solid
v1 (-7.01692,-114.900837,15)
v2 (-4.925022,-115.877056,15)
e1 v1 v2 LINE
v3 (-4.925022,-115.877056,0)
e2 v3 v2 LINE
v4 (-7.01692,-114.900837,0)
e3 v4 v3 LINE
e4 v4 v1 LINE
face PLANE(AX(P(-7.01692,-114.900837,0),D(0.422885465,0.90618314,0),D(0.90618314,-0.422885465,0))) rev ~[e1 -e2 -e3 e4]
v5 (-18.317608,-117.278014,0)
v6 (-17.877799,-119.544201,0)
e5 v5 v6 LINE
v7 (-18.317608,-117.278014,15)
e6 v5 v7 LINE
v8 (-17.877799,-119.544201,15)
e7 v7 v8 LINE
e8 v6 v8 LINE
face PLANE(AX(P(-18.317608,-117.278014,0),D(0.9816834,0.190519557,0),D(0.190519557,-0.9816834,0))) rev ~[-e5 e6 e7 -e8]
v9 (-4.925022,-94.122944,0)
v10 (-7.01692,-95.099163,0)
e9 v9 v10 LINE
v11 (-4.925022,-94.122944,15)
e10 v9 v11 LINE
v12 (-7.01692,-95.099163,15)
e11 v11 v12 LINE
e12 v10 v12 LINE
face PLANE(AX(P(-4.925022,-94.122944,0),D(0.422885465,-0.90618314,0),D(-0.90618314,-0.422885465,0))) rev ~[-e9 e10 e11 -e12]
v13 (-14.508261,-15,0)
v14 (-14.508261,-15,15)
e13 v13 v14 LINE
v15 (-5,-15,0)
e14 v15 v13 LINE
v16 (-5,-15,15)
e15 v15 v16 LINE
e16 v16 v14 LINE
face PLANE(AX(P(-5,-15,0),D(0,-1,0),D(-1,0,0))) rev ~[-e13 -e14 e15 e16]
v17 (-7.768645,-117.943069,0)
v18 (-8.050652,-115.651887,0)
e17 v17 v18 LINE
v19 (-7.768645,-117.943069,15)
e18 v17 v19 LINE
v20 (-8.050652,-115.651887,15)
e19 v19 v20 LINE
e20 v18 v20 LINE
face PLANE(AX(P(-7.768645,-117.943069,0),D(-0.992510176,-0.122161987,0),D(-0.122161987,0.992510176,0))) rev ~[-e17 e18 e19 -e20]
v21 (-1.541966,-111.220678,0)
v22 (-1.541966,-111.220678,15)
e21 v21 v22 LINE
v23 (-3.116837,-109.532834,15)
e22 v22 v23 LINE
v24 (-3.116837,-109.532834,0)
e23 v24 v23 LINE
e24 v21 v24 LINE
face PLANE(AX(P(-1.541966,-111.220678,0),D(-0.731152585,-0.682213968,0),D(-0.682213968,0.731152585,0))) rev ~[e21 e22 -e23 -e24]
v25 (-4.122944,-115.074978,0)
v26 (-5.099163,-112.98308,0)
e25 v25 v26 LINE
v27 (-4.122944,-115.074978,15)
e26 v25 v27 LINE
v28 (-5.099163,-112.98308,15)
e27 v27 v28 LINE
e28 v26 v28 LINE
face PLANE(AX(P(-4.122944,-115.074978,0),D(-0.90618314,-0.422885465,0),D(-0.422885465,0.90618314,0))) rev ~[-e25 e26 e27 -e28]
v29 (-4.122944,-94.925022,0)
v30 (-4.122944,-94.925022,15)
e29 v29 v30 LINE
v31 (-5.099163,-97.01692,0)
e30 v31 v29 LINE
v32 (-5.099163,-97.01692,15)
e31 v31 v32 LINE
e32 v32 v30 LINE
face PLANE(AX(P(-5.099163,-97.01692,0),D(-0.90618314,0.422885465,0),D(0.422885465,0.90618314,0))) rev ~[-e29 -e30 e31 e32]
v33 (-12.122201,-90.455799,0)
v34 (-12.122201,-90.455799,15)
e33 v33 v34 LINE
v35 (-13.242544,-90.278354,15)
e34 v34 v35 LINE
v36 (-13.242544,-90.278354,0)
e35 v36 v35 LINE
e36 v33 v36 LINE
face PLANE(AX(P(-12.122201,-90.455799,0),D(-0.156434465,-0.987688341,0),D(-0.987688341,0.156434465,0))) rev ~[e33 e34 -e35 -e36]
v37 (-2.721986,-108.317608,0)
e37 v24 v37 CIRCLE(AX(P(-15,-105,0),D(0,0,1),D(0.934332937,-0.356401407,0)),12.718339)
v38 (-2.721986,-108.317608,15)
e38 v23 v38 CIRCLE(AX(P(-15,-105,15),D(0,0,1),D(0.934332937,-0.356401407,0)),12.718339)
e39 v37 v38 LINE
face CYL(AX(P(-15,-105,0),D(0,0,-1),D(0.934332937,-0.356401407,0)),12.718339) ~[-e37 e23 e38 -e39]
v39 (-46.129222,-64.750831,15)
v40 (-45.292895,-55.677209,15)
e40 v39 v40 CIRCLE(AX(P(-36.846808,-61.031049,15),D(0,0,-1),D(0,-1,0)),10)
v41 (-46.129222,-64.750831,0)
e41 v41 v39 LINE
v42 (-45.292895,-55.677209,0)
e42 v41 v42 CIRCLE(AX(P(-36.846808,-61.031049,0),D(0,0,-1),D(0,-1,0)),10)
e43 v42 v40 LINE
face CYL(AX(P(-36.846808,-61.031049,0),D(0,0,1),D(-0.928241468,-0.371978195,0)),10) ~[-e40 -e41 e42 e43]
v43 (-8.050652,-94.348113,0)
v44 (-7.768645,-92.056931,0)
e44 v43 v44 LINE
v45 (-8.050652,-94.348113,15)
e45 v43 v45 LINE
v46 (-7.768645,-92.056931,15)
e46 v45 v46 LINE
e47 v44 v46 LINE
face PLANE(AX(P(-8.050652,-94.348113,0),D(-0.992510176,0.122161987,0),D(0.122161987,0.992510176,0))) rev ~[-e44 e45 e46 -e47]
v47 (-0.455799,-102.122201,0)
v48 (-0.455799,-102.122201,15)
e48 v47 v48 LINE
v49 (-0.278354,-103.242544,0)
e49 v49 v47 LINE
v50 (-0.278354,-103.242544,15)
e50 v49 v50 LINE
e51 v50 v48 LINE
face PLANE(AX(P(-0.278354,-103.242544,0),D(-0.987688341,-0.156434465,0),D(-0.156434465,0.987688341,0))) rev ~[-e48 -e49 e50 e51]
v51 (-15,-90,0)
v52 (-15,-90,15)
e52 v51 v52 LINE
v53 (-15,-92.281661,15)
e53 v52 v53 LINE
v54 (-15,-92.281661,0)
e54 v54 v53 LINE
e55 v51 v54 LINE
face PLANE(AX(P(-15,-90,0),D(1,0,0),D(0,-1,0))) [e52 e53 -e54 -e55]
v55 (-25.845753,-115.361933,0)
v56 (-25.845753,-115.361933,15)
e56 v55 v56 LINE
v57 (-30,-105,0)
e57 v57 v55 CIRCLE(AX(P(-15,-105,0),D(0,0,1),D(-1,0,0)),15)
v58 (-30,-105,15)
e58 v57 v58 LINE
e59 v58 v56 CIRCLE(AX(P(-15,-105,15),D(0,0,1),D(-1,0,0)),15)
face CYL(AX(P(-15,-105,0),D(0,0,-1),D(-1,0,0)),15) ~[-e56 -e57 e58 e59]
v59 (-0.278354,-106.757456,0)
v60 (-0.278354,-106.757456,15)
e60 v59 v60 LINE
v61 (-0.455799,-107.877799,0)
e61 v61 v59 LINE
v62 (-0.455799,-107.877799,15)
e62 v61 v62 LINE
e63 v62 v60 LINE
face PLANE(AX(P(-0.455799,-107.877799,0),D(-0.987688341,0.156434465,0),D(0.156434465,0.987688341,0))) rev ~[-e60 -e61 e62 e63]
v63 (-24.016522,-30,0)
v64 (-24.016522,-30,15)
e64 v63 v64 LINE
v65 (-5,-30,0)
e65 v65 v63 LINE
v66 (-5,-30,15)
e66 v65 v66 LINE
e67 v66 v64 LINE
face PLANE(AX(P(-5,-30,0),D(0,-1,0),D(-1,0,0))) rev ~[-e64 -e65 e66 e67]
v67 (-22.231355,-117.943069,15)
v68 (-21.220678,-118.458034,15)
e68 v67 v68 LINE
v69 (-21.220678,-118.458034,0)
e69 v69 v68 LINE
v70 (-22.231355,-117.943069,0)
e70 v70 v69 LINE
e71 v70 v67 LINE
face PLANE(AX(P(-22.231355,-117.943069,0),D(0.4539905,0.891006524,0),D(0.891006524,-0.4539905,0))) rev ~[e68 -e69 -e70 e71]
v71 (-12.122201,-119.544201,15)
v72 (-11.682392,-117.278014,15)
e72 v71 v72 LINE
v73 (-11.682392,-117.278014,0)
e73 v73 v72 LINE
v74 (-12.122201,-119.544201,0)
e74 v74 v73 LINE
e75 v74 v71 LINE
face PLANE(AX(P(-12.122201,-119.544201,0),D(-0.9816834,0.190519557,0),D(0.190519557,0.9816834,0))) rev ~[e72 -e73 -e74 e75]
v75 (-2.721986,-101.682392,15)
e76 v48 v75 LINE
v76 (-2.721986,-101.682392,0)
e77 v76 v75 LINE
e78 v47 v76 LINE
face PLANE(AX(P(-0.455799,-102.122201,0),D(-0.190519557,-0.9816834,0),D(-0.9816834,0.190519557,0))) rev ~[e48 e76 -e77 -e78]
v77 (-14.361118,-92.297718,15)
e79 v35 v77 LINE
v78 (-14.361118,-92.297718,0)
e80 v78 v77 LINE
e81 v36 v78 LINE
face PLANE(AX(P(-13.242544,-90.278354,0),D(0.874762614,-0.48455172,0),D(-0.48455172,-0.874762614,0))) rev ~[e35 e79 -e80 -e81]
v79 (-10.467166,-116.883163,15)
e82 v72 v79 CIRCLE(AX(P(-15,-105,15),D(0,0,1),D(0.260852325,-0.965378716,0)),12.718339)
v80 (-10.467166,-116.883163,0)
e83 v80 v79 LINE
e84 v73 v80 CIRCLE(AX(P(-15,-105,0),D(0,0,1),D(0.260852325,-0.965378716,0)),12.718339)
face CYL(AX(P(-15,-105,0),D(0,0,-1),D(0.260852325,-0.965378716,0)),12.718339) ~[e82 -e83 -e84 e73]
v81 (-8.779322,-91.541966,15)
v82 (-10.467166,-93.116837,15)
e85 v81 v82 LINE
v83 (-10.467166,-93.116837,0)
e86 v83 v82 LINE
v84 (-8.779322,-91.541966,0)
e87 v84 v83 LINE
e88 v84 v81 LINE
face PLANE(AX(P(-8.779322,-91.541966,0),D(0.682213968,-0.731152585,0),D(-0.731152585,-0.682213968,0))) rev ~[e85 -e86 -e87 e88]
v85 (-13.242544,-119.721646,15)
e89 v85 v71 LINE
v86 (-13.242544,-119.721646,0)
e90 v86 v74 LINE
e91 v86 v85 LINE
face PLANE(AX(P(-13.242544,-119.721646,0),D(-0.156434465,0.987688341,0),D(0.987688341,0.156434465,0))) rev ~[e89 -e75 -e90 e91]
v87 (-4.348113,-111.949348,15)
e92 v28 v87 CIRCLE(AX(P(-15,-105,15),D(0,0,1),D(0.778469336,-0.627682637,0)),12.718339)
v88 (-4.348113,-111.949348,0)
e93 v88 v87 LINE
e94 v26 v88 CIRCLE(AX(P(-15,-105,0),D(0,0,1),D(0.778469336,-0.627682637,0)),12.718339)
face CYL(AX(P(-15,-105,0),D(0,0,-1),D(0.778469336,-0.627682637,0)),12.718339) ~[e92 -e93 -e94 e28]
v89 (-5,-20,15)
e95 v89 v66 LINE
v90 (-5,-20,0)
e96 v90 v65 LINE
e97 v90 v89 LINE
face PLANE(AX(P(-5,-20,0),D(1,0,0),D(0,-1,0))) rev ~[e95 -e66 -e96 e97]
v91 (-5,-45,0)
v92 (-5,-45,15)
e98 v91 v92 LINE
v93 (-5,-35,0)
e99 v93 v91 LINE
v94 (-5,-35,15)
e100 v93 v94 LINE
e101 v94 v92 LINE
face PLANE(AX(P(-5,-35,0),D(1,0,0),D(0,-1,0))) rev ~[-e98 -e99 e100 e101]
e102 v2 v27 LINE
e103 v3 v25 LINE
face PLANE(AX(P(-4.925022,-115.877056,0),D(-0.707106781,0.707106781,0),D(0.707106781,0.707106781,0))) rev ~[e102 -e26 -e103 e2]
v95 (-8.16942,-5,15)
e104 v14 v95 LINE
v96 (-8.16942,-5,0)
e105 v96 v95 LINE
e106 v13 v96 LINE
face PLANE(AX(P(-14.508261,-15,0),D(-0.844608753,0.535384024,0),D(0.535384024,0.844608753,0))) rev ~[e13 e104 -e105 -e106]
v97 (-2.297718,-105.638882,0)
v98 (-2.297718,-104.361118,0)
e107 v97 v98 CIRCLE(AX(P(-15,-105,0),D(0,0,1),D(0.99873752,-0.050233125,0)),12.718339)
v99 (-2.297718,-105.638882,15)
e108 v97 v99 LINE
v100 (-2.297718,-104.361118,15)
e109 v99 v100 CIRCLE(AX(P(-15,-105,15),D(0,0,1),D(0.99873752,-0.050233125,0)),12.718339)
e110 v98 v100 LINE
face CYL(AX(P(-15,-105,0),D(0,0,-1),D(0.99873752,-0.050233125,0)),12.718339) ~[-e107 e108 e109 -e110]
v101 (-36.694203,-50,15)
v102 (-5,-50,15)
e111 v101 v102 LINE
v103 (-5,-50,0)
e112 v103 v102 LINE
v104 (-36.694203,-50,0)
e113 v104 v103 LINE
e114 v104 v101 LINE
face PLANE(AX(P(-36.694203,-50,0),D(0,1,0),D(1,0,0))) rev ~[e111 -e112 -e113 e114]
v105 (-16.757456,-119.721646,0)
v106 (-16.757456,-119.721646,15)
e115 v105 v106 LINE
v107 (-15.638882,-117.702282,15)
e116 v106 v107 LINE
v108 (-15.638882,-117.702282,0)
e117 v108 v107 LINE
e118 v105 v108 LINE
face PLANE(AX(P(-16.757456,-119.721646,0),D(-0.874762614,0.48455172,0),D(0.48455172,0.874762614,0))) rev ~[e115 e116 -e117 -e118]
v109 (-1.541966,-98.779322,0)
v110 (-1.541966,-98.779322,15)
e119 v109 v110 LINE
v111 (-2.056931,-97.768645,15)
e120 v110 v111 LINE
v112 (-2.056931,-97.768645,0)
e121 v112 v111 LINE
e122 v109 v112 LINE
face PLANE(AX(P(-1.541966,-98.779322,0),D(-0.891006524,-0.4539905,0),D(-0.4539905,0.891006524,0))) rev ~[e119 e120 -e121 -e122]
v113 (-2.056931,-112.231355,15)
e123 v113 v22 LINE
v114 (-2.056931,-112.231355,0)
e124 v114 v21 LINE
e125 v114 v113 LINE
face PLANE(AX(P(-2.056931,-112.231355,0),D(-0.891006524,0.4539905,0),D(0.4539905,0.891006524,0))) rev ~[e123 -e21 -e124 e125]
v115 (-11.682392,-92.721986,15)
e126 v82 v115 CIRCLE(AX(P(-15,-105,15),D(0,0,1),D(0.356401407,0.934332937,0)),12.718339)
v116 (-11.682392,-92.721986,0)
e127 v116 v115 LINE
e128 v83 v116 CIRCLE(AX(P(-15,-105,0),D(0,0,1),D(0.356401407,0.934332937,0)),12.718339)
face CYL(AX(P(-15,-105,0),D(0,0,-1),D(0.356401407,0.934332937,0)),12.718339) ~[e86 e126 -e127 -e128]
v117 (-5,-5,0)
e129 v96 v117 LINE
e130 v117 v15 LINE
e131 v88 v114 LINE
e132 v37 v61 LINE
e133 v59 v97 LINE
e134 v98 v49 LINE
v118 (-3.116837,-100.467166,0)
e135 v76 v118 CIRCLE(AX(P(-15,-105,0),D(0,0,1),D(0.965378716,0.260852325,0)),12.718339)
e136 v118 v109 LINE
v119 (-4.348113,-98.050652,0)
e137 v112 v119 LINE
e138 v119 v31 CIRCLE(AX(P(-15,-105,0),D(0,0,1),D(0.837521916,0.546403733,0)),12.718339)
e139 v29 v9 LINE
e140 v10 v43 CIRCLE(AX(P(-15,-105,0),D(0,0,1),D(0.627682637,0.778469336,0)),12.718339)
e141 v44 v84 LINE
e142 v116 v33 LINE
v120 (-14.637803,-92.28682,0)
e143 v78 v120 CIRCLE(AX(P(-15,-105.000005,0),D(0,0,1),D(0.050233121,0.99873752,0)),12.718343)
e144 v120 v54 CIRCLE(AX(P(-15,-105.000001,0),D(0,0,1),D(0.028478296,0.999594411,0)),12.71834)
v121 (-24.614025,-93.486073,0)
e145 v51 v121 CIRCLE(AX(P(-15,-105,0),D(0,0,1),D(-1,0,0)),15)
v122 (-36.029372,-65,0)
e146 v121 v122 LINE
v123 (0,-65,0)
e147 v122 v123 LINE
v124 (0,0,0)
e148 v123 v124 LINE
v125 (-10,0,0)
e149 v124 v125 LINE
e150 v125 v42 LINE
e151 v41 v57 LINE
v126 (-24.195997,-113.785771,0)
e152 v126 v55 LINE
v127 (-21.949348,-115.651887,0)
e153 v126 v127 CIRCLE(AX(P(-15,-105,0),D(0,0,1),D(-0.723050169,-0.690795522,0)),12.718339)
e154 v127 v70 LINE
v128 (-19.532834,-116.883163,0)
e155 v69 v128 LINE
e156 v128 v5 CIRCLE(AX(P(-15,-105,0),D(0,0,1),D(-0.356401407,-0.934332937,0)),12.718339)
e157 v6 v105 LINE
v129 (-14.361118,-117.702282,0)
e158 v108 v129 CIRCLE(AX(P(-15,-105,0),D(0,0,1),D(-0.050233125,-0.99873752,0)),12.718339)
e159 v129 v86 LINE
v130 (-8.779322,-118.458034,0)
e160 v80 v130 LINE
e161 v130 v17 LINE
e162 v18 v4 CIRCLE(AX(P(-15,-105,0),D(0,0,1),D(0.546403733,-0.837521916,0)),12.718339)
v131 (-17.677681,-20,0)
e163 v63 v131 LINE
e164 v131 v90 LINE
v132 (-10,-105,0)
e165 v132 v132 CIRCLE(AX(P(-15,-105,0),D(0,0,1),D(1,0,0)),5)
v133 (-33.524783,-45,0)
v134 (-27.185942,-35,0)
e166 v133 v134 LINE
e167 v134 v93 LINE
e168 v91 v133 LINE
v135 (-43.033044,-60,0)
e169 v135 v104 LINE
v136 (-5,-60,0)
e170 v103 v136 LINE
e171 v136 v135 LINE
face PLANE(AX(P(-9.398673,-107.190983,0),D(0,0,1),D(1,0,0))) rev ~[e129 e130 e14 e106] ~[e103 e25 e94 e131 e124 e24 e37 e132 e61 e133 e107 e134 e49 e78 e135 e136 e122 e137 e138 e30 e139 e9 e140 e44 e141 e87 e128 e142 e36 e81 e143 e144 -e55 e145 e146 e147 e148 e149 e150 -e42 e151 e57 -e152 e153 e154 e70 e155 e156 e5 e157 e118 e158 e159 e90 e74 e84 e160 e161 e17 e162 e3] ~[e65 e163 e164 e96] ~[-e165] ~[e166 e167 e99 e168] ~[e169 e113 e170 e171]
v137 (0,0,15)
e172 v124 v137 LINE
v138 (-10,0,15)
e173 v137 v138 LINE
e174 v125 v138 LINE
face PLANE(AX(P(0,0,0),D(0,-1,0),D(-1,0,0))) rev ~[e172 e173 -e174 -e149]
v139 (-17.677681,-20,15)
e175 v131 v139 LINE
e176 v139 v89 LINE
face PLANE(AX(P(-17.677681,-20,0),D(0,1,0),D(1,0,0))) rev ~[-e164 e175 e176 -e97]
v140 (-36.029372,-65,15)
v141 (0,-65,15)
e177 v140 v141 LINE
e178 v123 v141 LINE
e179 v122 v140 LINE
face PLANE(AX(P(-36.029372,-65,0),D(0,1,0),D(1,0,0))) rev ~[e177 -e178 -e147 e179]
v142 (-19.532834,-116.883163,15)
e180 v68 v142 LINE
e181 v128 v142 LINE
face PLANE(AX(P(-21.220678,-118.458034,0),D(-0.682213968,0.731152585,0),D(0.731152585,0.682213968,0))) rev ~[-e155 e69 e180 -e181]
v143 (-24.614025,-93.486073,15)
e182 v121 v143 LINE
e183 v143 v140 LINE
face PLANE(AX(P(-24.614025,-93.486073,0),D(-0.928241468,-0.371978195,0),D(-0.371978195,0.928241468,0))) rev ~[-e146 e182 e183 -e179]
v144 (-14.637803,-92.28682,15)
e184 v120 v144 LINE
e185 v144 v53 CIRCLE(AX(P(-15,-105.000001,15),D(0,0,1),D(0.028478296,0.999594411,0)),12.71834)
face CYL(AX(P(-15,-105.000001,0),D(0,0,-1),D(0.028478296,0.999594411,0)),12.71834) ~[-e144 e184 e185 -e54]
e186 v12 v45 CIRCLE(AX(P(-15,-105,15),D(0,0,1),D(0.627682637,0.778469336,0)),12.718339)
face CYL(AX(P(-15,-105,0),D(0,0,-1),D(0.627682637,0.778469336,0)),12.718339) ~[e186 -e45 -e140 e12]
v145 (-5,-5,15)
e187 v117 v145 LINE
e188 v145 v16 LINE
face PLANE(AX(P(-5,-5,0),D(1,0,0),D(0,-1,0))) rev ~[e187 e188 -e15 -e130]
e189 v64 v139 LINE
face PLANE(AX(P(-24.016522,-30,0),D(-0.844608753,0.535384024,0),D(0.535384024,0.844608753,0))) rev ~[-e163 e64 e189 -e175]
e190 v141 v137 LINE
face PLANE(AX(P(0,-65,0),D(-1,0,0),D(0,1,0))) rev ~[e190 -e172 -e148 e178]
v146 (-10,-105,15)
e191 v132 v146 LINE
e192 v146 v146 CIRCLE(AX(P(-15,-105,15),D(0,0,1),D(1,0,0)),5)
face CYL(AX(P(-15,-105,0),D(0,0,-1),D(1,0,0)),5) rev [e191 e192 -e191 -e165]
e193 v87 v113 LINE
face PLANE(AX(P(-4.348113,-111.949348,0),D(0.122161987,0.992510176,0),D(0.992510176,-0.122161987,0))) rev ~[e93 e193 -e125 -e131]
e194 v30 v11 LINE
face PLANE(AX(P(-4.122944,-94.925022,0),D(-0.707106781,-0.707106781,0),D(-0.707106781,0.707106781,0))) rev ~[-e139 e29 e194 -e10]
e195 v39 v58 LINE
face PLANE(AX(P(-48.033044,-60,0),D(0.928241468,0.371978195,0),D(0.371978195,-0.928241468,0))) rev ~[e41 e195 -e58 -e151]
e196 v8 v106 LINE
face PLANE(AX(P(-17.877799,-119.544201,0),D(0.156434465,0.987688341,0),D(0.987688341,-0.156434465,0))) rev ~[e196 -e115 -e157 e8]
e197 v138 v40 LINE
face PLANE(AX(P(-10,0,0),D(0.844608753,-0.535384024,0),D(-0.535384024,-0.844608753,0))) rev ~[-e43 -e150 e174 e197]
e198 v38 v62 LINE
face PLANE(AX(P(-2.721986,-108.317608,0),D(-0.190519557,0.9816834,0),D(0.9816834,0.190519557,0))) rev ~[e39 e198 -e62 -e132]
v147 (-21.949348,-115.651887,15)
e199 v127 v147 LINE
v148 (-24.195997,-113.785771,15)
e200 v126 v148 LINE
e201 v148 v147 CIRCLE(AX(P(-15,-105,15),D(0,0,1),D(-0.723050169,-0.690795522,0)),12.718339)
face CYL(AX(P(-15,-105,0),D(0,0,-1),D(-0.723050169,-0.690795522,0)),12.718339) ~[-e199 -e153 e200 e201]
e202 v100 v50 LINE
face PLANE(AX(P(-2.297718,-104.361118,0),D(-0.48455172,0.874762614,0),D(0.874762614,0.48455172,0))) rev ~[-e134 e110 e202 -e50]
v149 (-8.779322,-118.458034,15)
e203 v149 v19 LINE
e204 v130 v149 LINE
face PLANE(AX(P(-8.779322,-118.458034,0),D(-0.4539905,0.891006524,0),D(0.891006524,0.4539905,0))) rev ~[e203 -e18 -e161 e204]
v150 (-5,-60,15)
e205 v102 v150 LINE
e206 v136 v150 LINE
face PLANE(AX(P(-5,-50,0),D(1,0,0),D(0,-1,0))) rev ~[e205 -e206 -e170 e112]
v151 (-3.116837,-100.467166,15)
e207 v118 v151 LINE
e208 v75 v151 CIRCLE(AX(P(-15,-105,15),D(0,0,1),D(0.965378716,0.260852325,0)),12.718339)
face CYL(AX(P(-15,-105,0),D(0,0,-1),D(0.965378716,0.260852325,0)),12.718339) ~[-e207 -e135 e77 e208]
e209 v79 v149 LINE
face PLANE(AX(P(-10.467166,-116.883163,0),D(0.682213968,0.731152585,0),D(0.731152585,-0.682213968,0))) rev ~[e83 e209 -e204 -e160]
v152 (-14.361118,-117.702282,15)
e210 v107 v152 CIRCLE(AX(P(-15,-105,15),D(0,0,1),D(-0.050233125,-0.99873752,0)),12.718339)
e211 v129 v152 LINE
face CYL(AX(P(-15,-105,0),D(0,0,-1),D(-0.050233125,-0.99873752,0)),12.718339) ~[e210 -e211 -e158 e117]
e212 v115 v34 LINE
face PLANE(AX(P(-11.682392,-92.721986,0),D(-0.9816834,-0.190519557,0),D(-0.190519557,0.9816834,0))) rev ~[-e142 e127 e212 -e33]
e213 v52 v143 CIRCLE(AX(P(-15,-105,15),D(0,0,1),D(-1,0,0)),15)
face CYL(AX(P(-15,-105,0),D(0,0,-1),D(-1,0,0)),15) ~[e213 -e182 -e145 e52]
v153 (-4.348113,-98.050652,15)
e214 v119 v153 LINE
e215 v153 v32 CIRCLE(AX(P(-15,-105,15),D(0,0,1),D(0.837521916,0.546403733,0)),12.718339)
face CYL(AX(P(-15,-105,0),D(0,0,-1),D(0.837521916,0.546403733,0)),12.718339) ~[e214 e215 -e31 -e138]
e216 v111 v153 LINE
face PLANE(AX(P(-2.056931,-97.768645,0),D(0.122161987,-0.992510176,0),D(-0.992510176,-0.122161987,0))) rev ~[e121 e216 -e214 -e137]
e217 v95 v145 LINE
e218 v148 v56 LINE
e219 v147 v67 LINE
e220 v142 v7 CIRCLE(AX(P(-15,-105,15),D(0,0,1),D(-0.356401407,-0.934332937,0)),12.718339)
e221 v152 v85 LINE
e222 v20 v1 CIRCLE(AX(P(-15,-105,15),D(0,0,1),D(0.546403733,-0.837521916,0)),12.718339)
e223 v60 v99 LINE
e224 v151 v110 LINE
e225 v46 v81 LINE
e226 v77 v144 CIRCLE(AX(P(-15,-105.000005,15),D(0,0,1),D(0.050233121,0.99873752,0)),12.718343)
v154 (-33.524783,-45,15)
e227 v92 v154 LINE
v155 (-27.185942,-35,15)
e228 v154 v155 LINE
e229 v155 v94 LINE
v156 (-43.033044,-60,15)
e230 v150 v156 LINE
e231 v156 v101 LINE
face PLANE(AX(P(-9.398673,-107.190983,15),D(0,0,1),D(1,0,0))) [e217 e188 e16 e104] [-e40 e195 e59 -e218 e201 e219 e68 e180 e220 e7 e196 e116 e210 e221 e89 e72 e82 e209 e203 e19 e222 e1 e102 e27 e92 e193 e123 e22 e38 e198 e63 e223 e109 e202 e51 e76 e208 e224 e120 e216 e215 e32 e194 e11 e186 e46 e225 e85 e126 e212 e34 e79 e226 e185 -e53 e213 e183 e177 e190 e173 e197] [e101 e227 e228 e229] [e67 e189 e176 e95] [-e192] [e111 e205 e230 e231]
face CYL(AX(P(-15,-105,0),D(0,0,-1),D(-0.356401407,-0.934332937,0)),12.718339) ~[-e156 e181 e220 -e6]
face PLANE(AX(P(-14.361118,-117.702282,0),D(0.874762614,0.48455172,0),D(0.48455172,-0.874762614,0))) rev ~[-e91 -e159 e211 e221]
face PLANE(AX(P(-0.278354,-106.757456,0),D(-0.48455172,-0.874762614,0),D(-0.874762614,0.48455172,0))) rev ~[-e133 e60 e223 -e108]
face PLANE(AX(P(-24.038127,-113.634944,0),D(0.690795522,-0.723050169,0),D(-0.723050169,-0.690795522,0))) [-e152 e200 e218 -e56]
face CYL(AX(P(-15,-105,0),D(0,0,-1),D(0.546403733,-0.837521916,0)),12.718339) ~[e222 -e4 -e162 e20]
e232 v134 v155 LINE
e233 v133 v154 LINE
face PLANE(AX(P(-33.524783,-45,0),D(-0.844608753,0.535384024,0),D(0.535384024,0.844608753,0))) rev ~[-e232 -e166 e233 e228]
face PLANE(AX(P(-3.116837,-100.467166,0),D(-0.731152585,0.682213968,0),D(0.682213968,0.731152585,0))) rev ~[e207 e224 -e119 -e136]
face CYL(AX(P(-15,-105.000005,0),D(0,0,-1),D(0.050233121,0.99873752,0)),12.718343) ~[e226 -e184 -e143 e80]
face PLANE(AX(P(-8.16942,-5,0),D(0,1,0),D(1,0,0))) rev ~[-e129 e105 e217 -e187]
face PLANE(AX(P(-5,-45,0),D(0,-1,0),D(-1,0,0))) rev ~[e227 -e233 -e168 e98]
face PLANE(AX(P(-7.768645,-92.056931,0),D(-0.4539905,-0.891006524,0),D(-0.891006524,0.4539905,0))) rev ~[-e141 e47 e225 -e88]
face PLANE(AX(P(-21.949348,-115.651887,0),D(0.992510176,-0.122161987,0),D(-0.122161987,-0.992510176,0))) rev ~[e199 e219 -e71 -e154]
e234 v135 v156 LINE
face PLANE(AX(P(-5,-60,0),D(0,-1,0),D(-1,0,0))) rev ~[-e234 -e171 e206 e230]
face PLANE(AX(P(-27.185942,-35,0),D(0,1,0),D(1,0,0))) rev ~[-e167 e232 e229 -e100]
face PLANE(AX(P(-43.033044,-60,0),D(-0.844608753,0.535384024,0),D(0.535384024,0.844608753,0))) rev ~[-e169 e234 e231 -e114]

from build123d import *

# Parameters (mm, degrees)
SKETCH1_R           = 5
BOSS_EXTRUDE1_DEPTH = 15
CUT_EXTRUDE1_START  = -15
CUT_EXTRUDE1_DEPTH  = 15
BOSS_EXTRUDE2_START = -15
BOSS_EXTRUDE2_DEPTH = 15
FILLET1_R           = 10


with BuildPart() as part:
    # Sketch1 → Boss-Extrude1 (new body)
    with BuildSketch(Plane.XY):
        with BuildLine():
            Line((0, 0), (-10, 0))
            Line((-10, 0), (-48.033043506, -60))
            Line((-48.033043506, -60), (-30, -105))
            ThreePointArc((-30, -105), (-1.41305071, -111.355691072), (-24.614025467, -93.486073028))
            Line((-24.614025467, -93.486073028), (-36.029372005, -65))
            Line((-36.029372005, -65), (0, -65))
            Line((0, -65), (0, 0))
        make_face()
        Polygon((-5, -50), (-5, -60), (-43.033043506, -60), (-36.694202922, -50), align=None, mode=Mode.SUBTRACT)
        Polygon((-27.185942045, -35), (-5, -35), (-5, -45), (-33.52478263, -45), align=None, mode=Mode.SUBTRACT)
        Polygon((-17.677681169, -20), (-5, -20), (-5, -30), (-24.016521753, -30), align=None, mode=Mode.SUBTRACT)
        Polygon((-14.508260877, -15), (-8.169420292, -5), (-5, -5), (-5, -15), align=None, mode=Mode.SUBTRACT)
        with Locations((-15, -105)):
            Circle(SKETCH1_R, mode=Mode.SUBTRACT)
    extrude(amount=BOSS_EXTRUDE1_DEPTH)

    # Sketch2 → Cut-Extrude1 (cut)
    with BuildSketch(Plane.XY.offset(15).offset(CUT_EXTRUDE1_START)):
        with BuildLine():
            Line((-15, -90), (-15, -92.5))
            ThreePointArc((-15, -92.5), (-3.506810704, -109.914936399), (-24.038127106, -113.634944031))
            Line((-24.038127106, -113.634944031), (-25.845752528, -115.361932837))
            ThreePointArc((-25.845752528, -115.361932837), (-1.208172845, -110.897923679), (-15, -90))
        make_face()
    extrude(amount=CUT_EXTRUDE1_DEPTH, mode=Mode.SUBTRACT)

    # Sketch3 → Boss-Extrude2 (add)
    with BuildSketch(Plane.XY.offset(15).offset(BOSS_EXTRUDE2_START)):
        with BuildLine():
            ThreePointArc((-10.467166144, -93.116837157), (-11.06981717, -92.904141005), (-11.682391753, -92.721986422))
            Line((-11.682391753, -92.721986422), (-12.122200649, -90.45579864))
            Line((-12.122200649, -90.45579864), (-13.242544435, -90.278353616))
            Line((-13.242544435, -90.278353616), (-14.361118089, -92.29771785))
            ThreePointArc((-14.361118089, -92.29771785), (-14.499431062, -92.291515722), (-14.637803355, -92.286819615))
            ThreePointArc((-14.637803355, -92.286819615), (-14.818883312, -92.282950867), (-15, -92.281661197))
            Line((-15, -92.281661197), (-15, -92.5))
            ThreePointArc((-15, -92.5), (-3.506810704, -109.914936399), (-24.038127106, -113.634944031))
            Line((-24.038127106, -113.634944031), (-24.195997015, -113.785771498))
            ThreePointArc((-24.195997015, -113.785771498), (-23.126415999, -114.783532334), (-21.949347795, -115.651887492))
            Line((-21.949347795, -115.651887492), (-22.231355215, -117.943068572))
            Line((-22.231355215, -117.943068572), (-21.220678485, -118.458034088))
            Line((-21.220678485, -118.458034088), (-19.532833856, -116.883162843))
            ThreePointArc((-19.532833856, -116.883162843), (-18.93018283, -117.095858995), (-18.317608247, -117.278013578))
            Line((-18.317608247, -117.278013578), (-17.877799351, -119.54420136))
            Line((-17.877799351, -119.54420136), (-16.757455565, -119.721646384))
            Line((-16.757455565, -119.721646384), (-15.638881911, -117.70228215))
            ThreePointArc((-15.638881911, -117.70228215), (-15, -117.718338803), (-14.361118089, -117.70228215))
            Line((-14.361118089, -117.70228215), (-13.242544435, -119.721646384))
            Line((-13.242544435, -119.721646384), (-12.12220065, -119.544201361))
            Line((-12.12220065, -119.544201361), (-11.682391753, -117.278013578))
            ThreePointArc((-11.682391753, -117.278013578), (-11.06981717, -117.095858995), (-10.467166144, -116.883162843))
            Line((-10.467166144, -116.883162843), (-8.779321515, -118.458034088))
            Line((-8.779321515, -118.458034088), (-7.768644785, -117.943068573))
            Line((-7.768644785, -117.943068573), (-8.050652205, -115.651887492))
            ThreePointArc((-8.050652205, -115.651887492), (-7.524348018, -115.289352232), (-7.016919559, -114.900836762))
            Line((-7.016919559, -114.900836762), (-4.925021947, -115.877055647))
            Line((-4.925021947, -115.877055647), (-4.122944353, -115.074978053))
            Line((-4.122944353, -115.074978053), (-5.099163238, -112.983080441))
            ThreePointArc((-5.099163238, -112.983080441), (-4.710647768, -112.475651982), (-4.348112508, -111.949347795))
            Line((-4.348112508, -111.949347795), (-2.056931428, -112.231355215))
            Line((-2.056931428, -112.231355215), (-1.541965913, -111.220678485))
            Line((-1.541965913, -111.220678485), (-3.116837157, -109.532833856))
            ThreePointArc((-3.116837157, -109.532833856), (-2.904141005, -108.93018283), (-2.721986422, -108.317608247))
            Line((-2.721986422, -108.317608247), (-0.45579864, -107.877799351))
            Line((-0.45579864, -107.877799351), (-0.278353616, -106.757455565))
            Line((-0.278353616, -106.757455565), (-2.29771785, -105.638881911))
            ThreePointArc((-2.29771785, -105.638881911), (-2.281661197, -105), (-2.29771785, -104.361118089))
            Line((-2.29771785, -104.361118089), (-0.278353616, -103.242544435))
            Line((-0.278353616, -103.242544435), (-0.45579864, -102.122200649))
            Line((-0.45579864, -102.122200649), (-2.721986422, -101.682391753))
            ThreePointArc((-2.721986422, -101.682391753), (-2.904141005, -101.06981717), (-3.116837157, -100.467166144))
            Line((-3.116837157, -100.467166144), (-1.541965912, -98.779321515))
            Line((-1.541965912, -98.779321515), (-2.056931427, -97.768644785))
            Line((-2.056931427, -97.768644785), (-4.348112508, -98.050652205))
            ThreePointArc((-4.348112508, -98.050652205), (-4.710647768, -97.524348018), (-5.099163238, -97.016919559))
            Line((-5.099163238, -97.016919559), (-4.122944353, -94.925021947))
            Line((-4.122944353, -94.925021947), (-4.925021947, -94.122944353))
            Line((-4.925021947, -94.122944353), (-7.016919559, -95.099163238))
            ThreePointArc((-7.016919559, -95.099163238), (-7.524348018, -94.710647768), (-8.050652205, -94.348112508))
            Line((-8.050652205, -94.348112508), (-7.768644785, -92.056931428))
            Line((-7.768644785, -92.056931428), (-8.779321515, -91.541965912))
            Line((-8.779321515, -91.541965912), (-10.467166144, -93.116837157))
        make_face()
    extrude(amount=BOSS_EXTRUDE2_DEPTH)

    # Fillet1
    fillet1_edges = [part.edges().sort_by_distance(p)[0] for p in [
        (-48.033043506, -60, 7.5),
    ]]
    fillet(fillet1_edges, radius=FILLET1_R)


solid = part.part
